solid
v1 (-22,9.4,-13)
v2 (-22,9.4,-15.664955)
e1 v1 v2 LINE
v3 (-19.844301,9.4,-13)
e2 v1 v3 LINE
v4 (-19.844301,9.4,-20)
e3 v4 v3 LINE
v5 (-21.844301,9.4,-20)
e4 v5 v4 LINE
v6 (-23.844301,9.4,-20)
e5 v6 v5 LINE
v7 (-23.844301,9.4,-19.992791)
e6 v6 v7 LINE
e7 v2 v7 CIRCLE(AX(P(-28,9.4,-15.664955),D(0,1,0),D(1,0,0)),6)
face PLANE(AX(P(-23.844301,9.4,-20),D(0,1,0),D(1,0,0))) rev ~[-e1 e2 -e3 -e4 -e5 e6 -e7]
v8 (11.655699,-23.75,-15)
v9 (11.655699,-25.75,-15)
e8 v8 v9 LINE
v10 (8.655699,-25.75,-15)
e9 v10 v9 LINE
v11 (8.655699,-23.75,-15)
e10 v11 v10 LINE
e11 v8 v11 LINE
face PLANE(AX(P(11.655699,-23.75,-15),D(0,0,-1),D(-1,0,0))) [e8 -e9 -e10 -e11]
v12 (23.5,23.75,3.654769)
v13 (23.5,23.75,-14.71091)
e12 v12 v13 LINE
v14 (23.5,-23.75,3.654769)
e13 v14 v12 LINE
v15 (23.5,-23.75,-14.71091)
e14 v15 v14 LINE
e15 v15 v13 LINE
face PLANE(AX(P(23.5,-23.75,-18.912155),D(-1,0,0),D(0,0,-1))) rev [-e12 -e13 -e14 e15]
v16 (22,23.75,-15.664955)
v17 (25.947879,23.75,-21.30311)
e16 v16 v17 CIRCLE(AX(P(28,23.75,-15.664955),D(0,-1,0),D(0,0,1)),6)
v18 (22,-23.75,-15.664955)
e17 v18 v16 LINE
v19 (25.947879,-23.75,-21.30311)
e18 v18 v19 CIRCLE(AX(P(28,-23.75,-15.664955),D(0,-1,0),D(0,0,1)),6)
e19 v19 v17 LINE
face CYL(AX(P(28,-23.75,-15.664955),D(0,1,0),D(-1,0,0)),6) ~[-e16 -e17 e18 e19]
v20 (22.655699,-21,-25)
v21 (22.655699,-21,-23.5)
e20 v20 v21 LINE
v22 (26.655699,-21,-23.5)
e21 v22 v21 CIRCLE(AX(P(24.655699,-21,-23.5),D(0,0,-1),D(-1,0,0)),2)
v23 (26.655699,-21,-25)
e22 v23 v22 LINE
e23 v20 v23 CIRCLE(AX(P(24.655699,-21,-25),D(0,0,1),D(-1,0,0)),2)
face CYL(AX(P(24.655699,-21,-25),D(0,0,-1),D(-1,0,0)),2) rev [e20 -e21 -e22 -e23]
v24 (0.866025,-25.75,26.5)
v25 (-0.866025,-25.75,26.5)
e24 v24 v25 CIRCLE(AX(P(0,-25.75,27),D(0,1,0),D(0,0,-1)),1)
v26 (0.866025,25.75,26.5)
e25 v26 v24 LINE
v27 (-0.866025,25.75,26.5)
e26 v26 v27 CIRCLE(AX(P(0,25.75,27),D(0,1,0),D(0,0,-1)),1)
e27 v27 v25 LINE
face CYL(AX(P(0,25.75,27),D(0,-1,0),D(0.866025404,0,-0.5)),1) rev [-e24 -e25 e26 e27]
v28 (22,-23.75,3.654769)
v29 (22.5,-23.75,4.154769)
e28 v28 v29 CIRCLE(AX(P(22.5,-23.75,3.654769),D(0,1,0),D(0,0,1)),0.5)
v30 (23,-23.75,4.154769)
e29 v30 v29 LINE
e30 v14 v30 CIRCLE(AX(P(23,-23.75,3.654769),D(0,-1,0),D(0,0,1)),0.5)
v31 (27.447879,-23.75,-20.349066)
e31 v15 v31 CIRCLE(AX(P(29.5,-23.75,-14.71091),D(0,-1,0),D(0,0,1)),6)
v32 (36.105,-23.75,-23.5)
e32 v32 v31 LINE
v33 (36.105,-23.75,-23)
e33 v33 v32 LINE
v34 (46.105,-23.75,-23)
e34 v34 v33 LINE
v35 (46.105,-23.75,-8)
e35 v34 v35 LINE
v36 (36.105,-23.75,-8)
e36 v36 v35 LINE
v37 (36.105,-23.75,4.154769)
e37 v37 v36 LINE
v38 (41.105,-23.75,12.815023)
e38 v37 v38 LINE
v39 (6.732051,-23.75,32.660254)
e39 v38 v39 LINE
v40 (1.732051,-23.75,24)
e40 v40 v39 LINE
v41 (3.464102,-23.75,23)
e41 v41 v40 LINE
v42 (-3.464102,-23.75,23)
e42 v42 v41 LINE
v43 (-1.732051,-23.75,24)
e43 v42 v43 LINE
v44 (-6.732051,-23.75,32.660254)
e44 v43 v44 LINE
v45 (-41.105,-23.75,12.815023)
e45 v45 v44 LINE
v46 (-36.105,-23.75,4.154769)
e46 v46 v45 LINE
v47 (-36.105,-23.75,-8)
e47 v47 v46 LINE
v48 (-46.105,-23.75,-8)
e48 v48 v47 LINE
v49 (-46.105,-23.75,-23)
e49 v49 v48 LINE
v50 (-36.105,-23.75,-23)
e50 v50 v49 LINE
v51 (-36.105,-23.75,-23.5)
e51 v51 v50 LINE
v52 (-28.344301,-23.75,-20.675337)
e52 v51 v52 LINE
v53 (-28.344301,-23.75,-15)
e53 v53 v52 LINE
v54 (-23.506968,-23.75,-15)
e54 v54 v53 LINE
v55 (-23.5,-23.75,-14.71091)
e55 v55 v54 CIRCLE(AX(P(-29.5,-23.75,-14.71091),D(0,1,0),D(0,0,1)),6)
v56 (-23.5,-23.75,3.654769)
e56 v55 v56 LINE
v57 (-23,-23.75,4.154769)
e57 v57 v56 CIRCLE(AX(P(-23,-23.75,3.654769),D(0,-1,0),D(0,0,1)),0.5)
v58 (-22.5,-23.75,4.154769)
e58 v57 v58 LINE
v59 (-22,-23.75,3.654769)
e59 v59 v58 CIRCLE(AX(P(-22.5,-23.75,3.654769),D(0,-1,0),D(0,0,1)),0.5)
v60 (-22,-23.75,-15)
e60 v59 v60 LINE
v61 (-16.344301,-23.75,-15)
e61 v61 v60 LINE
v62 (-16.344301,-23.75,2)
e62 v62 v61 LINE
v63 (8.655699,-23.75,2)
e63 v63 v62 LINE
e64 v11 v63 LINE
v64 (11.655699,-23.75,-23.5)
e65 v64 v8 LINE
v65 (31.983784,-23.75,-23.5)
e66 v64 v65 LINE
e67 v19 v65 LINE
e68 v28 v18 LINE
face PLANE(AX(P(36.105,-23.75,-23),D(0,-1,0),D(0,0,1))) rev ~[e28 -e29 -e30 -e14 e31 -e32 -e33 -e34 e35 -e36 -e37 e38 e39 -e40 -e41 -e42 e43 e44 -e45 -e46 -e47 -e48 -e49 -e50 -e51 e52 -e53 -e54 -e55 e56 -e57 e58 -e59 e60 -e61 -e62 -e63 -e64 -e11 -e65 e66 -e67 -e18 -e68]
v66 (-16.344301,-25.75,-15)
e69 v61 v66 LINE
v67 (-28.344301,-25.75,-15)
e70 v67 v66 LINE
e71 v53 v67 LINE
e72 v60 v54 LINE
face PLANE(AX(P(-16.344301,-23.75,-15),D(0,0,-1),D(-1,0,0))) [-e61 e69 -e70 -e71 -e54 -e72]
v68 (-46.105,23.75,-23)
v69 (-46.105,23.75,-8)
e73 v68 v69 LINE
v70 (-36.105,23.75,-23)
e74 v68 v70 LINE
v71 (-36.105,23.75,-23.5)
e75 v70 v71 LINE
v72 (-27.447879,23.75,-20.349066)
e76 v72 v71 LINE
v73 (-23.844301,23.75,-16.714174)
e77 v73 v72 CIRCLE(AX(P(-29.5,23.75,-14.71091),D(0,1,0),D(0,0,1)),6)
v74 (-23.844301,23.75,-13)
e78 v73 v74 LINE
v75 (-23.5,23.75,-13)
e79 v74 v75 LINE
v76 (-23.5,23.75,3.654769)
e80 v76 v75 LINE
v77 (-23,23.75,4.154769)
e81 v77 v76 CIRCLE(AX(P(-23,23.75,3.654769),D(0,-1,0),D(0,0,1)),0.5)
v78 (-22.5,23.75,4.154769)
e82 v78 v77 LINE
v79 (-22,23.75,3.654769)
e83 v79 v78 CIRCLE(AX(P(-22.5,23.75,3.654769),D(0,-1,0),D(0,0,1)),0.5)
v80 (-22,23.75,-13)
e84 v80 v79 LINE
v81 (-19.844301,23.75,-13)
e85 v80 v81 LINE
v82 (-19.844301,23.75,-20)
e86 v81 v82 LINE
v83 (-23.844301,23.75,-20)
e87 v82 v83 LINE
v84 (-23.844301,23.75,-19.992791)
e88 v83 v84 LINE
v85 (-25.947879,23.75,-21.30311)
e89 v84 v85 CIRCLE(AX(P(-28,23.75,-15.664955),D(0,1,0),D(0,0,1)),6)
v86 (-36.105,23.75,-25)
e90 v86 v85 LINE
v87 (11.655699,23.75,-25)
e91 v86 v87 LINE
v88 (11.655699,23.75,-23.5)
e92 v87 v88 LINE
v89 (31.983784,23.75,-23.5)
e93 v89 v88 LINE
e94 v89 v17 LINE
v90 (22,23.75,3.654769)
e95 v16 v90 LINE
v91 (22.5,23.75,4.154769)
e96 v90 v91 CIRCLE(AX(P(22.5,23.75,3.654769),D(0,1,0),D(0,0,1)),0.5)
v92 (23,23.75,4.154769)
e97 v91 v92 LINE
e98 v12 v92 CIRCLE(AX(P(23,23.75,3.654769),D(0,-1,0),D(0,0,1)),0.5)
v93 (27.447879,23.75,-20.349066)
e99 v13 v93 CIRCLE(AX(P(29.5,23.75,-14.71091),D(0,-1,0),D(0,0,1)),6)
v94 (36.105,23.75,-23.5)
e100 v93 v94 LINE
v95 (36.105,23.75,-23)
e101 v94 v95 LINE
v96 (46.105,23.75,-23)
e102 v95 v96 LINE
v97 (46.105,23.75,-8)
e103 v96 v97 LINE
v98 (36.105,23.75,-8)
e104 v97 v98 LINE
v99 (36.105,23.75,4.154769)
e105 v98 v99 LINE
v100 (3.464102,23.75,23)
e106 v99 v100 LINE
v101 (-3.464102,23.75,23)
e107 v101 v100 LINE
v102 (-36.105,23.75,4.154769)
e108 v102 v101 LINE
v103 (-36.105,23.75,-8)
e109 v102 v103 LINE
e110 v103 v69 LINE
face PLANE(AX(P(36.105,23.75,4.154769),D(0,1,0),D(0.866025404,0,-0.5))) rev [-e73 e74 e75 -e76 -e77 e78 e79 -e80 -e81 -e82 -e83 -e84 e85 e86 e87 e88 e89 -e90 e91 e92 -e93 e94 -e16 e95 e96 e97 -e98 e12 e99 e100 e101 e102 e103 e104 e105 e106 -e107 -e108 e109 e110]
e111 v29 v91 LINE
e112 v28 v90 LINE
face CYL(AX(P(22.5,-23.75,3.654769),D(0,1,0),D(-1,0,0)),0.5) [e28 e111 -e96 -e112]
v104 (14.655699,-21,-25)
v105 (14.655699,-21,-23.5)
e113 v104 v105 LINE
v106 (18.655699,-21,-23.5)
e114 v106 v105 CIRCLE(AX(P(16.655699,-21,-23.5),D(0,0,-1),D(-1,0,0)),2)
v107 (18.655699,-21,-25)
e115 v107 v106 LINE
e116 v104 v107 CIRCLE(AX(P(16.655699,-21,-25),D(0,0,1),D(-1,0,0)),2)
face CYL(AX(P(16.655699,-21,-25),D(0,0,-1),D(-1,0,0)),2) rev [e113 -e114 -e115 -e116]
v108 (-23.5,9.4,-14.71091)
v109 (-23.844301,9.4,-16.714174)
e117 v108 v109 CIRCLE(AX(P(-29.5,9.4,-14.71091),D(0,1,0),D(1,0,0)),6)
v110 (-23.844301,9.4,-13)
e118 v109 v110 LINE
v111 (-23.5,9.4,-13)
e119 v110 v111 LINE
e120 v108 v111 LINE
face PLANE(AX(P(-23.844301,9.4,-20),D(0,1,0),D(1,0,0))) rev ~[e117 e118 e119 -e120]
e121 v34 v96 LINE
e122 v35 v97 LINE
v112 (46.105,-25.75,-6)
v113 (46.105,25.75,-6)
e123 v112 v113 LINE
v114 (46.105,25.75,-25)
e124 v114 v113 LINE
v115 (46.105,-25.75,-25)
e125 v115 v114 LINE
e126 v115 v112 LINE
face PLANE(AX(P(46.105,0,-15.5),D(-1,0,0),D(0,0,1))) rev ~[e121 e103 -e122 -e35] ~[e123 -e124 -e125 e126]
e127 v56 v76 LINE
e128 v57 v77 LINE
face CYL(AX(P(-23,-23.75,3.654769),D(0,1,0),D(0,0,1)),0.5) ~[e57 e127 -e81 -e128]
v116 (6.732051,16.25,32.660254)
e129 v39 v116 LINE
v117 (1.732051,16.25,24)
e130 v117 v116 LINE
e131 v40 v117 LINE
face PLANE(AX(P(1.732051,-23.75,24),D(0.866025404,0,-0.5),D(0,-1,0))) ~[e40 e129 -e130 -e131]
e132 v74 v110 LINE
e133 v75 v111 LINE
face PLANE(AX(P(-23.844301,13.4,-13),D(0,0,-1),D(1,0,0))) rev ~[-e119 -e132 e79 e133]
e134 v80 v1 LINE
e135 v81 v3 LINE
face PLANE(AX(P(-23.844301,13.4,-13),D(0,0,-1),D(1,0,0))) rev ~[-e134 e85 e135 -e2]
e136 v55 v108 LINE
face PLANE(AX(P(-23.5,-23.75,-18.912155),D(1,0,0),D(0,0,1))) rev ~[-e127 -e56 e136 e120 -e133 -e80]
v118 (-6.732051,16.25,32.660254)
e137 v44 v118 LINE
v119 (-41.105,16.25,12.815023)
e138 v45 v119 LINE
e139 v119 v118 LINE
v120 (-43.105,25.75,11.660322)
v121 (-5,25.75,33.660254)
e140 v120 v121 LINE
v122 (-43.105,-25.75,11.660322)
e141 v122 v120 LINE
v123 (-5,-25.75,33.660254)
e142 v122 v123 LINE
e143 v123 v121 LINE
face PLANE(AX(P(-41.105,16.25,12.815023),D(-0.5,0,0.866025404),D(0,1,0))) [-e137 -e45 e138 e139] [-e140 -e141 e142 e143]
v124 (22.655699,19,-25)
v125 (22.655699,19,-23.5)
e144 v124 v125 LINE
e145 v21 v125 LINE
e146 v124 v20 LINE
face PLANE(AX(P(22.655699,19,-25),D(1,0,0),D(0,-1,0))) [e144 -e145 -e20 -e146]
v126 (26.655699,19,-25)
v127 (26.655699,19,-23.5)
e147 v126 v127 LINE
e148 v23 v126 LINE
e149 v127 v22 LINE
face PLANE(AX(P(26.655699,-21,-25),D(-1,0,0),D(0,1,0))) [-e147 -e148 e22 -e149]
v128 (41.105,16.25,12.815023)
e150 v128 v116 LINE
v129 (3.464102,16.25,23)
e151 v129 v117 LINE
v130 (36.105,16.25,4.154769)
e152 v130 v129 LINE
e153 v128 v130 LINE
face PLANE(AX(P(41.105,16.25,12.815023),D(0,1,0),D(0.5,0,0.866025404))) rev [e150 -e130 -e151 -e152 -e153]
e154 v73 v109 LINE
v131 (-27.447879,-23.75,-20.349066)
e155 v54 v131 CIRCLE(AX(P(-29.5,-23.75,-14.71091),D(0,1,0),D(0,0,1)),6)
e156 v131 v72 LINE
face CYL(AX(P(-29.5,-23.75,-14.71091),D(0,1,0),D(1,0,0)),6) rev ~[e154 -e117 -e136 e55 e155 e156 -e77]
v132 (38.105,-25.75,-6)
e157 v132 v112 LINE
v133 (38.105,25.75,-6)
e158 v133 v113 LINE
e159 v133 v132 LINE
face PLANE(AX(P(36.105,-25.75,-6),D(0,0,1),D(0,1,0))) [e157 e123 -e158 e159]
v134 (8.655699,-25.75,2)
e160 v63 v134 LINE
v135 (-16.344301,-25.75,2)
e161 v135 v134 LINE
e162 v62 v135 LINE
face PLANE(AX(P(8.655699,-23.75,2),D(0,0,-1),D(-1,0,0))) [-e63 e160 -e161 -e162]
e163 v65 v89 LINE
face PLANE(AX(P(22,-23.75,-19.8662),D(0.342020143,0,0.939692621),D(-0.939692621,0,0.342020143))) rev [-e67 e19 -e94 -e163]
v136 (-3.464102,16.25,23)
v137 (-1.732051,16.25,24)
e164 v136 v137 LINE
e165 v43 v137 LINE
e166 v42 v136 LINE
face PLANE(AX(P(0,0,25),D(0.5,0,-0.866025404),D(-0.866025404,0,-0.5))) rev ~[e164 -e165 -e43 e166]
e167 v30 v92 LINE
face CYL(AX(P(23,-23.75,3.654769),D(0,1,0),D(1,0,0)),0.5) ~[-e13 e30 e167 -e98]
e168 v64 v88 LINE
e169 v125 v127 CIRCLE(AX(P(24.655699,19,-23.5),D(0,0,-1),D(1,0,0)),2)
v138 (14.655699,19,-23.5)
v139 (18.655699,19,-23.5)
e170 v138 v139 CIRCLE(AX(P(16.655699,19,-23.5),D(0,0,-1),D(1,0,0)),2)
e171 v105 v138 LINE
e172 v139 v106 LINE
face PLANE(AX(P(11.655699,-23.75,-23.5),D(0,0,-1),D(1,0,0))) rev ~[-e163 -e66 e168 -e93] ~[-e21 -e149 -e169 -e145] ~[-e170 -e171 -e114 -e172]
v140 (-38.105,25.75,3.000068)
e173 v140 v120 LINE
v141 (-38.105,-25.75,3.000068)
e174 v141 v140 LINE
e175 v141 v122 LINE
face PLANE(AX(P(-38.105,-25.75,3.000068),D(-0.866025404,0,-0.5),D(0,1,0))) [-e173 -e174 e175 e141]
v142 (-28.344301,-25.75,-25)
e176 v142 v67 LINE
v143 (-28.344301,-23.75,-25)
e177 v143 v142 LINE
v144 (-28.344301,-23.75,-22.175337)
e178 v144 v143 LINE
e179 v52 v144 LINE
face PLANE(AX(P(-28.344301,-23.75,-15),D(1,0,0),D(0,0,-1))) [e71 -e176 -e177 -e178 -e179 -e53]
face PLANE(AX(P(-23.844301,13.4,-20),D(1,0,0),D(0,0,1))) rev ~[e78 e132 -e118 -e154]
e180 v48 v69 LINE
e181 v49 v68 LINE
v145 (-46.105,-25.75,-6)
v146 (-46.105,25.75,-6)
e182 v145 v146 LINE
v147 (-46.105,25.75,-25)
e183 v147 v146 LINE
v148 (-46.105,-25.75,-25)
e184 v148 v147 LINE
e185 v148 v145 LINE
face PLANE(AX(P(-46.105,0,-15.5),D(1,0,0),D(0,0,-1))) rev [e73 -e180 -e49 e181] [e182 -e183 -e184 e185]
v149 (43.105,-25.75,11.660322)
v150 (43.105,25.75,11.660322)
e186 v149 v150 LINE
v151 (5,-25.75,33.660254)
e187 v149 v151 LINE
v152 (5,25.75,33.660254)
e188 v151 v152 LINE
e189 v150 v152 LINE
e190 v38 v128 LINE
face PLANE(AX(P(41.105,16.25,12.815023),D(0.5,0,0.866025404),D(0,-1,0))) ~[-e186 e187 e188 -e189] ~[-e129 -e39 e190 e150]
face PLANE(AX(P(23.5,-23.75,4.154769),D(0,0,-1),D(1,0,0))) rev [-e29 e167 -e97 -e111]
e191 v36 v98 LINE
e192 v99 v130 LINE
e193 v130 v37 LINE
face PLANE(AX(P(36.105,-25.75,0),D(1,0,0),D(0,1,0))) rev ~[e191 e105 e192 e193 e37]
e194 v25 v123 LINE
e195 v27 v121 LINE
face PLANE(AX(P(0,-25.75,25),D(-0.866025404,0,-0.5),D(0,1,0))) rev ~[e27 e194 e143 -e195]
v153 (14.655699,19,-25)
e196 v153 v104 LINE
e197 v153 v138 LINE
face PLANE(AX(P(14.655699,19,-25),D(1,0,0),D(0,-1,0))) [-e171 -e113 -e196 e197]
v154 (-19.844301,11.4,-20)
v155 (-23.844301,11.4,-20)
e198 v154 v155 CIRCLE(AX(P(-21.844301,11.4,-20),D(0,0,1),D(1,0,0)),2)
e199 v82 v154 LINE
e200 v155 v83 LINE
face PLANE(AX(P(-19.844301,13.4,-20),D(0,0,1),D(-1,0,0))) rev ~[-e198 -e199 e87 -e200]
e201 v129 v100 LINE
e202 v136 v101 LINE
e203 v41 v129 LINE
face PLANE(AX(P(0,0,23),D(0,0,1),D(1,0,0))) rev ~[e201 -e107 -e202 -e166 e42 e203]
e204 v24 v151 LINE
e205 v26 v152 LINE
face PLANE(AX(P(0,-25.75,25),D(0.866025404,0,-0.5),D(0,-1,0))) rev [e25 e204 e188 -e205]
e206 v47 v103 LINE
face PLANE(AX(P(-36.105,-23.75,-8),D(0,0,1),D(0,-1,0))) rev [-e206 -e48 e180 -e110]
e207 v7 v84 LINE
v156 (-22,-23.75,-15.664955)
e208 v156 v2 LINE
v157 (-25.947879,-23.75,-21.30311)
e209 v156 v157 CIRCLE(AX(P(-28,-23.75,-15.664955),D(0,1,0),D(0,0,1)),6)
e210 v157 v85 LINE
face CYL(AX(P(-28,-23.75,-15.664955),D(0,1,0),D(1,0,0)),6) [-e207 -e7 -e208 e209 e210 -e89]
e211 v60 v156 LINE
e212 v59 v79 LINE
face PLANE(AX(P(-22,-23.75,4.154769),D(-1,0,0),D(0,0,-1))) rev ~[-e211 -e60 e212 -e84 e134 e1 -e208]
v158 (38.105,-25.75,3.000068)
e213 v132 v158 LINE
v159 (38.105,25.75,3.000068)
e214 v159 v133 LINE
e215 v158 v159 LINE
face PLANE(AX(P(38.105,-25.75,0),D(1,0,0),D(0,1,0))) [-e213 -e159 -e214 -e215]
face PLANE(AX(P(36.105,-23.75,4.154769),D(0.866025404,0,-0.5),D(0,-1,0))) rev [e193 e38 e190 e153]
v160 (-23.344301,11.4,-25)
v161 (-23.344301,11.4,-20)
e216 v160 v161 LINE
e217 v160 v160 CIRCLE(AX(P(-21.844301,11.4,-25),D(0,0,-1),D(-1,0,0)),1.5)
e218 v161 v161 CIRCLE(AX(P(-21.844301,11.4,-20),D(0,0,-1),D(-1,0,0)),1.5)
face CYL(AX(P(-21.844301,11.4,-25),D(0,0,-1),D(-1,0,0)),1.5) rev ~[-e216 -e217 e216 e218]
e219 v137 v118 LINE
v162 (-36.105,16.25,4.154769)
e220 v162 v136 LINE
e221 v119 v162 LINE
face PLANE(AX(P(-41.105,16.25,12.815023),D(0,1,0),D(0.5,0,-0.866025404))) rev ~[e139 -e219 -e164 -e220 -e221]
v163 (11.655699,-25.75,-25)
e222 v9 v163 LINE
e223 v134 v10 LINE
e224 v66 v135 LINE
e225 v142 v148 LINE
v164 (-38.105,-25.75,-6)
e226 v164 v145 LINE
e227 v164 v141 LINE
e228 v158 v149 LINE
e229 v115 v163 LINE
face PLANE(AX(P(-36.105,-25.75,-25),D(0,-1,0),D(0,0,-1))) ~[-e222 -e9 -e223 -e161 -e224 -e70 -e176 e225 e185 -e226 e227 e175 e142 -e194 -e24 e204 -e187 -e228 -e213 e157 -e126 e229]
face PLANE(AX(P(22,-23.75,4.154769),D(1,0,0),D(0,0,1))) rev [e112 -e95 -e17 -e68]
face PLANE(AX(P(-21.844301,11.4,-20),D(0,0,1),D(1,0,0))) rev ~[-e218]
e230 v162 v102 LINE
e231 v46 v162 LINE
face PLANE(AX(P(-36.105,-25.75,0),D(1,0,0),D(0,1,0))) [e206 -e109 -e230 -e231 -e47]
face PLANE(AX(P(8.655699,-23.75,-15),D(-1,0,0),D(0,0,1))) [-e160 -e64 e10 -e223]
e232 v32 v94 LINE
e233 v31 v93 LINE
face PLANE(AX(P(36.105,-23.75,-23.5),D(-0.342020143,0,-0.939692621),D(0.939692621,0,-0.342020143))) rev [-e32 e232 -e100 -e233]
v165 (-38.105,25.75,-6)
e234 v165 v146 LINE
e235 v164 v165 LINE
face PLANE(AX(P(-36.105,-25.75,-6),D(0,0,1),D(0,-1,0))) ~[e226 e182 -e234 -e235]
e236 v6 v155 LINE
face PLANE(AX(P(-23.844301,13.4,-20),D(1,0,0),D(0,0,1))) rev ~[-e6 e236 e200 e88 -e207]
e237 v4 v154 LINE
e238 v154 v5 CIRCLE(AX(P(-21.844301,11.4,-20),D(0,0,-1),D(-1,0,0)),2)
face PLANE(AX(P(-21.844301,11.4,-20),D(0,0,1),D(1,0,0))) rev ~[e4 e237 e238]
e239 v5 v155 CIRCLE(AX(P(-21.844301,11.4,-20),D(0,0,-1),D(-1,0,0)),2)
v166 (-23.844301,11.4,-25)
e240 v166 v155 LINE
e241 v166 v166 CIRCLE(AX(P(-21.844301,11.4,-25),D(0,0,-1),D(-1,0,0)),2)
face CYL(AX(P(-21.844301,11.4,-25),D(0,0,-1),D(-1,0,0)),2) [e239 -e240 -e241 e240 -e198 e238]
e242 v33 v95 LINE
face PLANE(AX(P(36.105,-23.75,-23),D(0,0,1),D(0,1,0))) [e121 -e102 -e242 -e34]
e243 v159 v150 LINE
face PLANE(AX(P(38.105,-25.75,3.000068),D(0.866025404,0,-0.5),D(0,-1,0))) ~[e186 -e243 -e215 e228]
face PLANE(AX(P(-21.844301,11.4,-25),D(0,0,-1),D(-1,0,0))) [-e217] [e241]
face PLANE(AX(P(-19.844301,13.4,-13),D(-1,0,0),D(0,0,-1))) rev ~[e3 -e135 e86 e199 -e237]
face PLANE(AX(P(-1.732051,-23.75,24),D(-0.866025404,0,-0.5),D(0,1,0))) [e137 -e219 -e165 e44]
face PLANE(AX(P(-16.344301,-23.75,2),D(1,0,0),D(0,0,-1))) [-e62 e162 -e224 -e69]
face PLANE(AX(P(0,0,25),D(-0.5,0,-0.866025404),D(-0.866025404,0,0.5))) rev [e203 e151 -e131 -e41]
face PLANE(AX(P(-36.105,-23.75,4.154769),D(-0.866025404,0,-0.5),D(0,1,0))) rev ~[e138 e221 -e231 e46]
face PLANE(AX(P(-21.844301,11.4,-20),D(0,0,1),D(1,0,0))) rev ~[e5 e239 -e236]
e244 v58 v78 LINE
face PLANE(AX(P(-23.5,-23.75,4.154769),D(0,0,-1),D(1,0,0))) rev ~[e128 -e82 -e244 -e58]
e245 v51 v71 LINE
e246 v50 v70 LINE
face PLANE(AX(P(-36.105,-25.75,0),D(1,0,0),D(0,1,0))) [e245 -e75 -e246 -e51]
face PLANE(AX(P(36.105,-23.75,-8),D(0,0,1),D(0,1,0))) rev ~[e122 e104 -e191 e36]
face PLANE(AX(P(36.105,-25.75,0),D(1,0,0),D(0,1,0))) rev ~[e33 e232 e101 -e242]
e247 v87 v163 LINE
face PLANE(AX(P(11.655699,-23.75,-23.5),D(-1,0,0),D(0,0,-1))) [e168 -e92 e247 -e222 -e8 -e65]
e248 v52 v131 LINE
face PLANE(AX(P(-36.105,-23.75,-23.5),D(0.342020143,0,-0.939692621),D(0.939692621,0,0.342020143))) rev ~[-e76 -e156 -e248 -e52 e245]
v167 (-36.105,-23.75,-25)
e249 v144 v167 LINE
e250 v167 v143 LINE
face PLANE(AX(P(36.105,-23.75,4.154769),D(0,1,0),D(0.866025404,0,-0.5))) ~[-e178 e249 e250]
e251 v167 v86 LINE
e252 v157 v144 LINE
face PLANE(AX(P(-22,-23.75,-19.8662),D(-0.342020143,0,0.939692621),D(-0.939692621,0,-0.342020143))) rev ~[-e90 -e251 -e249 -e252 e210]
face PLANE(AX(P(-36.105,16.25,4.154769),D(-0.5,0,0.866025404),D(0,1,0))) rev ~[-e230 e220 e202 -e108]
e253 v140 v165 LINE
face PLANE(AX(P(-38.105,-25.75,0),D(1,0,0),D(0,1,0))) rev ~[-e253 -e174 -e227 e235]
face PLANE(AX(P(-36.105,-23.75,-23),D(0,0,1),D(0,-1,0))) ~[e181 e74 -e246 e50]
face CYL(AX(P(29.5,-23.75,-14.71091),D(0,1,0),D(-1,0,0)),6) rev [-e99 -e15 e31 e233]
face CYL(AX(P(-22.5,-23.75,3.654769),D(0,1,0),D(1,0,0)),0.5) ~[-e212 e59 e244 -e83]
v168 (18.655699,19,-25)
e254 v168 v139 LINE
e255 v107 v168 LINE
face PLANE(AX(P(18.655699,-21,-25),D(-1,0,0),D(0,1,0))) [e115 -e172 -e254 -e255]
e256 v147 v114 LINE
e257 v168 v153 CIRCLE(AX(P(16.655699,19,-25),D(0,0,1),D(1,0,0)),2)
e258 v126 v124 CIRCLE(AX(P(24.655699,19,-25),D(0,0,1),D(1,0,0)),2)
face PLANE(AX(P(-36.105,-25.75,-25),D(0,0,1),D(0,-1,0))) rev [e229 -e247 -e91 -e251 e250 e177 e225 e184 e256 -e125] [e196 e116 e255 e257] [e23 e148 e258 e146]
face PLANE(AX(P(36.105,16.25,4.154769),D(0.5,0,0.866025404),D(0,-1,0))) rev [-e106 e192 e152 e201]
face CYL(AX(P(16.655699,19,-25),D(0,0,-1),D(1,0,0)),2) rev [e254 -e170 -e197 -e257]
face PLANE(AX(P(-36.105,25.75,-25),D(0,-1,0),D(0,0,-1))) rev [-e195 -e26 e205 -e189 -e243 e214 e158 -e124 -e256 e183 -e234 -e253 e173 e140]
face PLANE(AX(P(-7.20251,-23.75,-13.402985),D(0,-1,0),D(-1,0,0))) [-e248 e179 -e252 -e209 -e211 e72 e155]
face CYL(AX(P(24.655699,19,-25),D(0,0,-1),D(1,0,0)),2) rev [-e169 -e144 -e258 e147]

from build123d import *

# Parameters (mm, degrees)
SKETCH1_W                 = 76.21
SKETCH1_H                 = 51.5
BOSS_EXTRUDE1_DEPTH       = 25
SHELL1_T                  = -2
CUT_EXTRUDE1_DEPTH        = 53.345520582
SKETCH4_W                 = 43.999864015
SKETCH4_H                 = 51.5
SKETCH4_W_2               = 39.690462938
SKETCH4_H_2               = 47.5
BOSS_EXTRUDE2_DEPTH       = 10
BOSS_EXTRUDE3_REACH       = 75.765
FILLET1_R                 = 0.5
FILLET3_R                 = 6
FILLET1_OF_MIRROR3_R      = 0.5
FILLET3_OF_MIRROR3_R      = 6
CUT_EXTRUDE2_DEPTH        = 74.765193194
BOSS_EXTRUDE4_REACH       = 75.765
SKETCH7_W                 = 24.449300912
SKETCH7_H                 = 1.5
CUT_EXTRUDE3_REACH        = 79.215
LPATTERN1_COUNT           = 2
LPATTERN1_PITCH           = 8
SKETCH9_R                 = 2
SKETCH9_R_2               = 1.5
BOSS_EXTRUDE5_DEPTH       = 5
SKETCH10_W                = 4
SKETCH10_H                = 4
BOSS_EXTRUDE6_DEPTH       = 7
BOSS_EXTRUDE7_DEPTH       = 10.35
SKETCH12_R                = 2
BOSS_EXTRUDE8_DEPTH       = 10
F_1_5MM_DOWEL_HOLE1_D     = 1.5
F_1_5MM_DOWEL_HOLE1_DEPTH = 5
F_1_5MM_DOWEL_HOLE1_TIP   = 0.450645464
FILLET5_R                 = 1
SKETCH15_W                = 19
SKETCH15_H                = 51.5
SKETCH15_W_2              = 15
SKETCH15_H_2              = 47.5
BOSS_EXTRUDE9_DEPTH       = 10
CUT_EXTRUDE4_REACH        = 91.835
SKETCH16_W                = 15
SKETCH16_H                = 47.5
BOSS_EXTRUDE10_REACH      = 91.93
SKETCH19_W                = 10
SKETCH19_H                = 7.5


with BuildPart() as part:
    # Sketch1 → Boss-Extrude1 (new, symmetric)
    with BuildSketch(Plane.XY):
        Rectangle(SKETCH1_W, SKETCH1_H)
    extrude(amount=BOSS_EXTRUDE1_DEPTH, both=True)

    # Shell1
    shell1_openings = [part.faces().sort_by_distance(p)[0] for p in [
        (0, 0, -25),
    ]]
    offset(amount=SHELL1_T, openings=shell1_openings, kind=Kind.INTERSECTION)

    # Sketch3 → Cut-Extrude1 (cut, symmetric)
    with BuildSketch(Plane(origin=(0, 0, 0), x_dir=(1, 0, 0), z_dir=(0, 1, 0))):
        Polygon((0, -25), (-38.105, -3.000067993), (-38.105, -25), align=None)
    cut_extrude1 = extrude(amount=CUT_EXTRUDE1_DEPTH, both=True, mode=Mode.SUBTRACT)

    # Mirror1: Cut-Extrude1 across plane
    add(cut_extrude1.mirror(Plane(origin=(0, 0, 0), x_dir=(0, 0, 1), z_dir=(1, 0, 0))), mode=Mode.SUBTRACT)

    # Sketch4 → Boss-Extrude2 (add)
    with BuildSketch(Plane(origin=(-10.825317547, 0, 18.75), x_dir=(0.8660254037844363, 0, 0.5000000000000042), z_dir=(-0.5000000000000041, 0, 0.8660254037844362))):
        with Locations((-9.499932008, 0)):
            Rectangle(SKETCH4_W, SKETCH4_H)
        with Locations((-9.345231469, 0)):
            Rectangle(SKETCH4_W_2, SKETCH4_H_2, mode=Mode.SUBTRACT)
    boss_extrude2 = extrude(amount=BOSS_EXTRUDE2_DEPTH)

    # Mirror2: Boss-Extrude2 across plane
    add(boss_extrude2.mirror(Plane(origin=(0, 0, 0), x_dir=(0, 0, 1), z_dir=(1, 0, 0))))

    # Sketch5 → Boss-Extrude3 (add, up to next)
    with BuildSketch(Plane(origin=(0, -23.75, 0), x_dir=(1, 0, 0), z_dir=(0, 1, 0)), mode=Mode.PRIVATE) as boss_extrude3_sk1:
        Polygon((-22, 19.866199846), (-36.105, 25), (-36.105, 23.5), (-23.5, 18.912155197), (-23.5, -4.154768531), (-22, -4.154768531), align=None)
    boss_extrude3_tool1 = extrude(boss_extrude3_sk1.sketch, amount=BOSS_EXTRUDE3_REACH, mode=Mode.PRIVATE) - part.part
    boss_extrude3 = boss_extrude3_tool1.solids().sort_by_distance((-29.163272, -23.75, -22.128757))[0]
    add(boss_extrude3)

    # Fillet1
    fillet1_edges = [part.edges().sort_by_distance(p)[0] for p in [
        (-22, 0, 4.154768531),
        (-23.5, 0, 4.154768531),
    ]]
    fillet(fillet1_edges, radius=FILLET1_R)

    # Fillet3
    fillet3_edges = [part.edges().sort_by_distance(p)[0] for p in [
        (-22, 0, -19.866199846),
        (-23.5, 0, -18.912155197),
    ]]
    fillet(fillet3_edges, radius=FILLET3_R)

    # Mirror3: Boss-Extrude3 across plane
    add(boss_extrude3.mirror(Plane(origin=(0, 0, 0), x_dir=(0, 0, 1), z_dir=(1, 0, 0))))

    # Fillet1 of Mirror3
    fillet1_of_mirror3_edges = [part.edges().sort_by_distance(p)[0] for p in [
        (22, 0, 4.154768531),
        (23.5, 0, 4.154768531),
    ]]
    fillet(fillet1_of_mirror3_edges, radius=FILLET1_OF_MIRROR3_R)

    # Fillet3 of Mirror3
    fillet3_of_mirror3_edges = [part.edges().sort_by_distance(p)[0] for p in [
        (22, 0, -19.866199846),
        (23.5, 0, -18.912155197),
    ]]
    fillet(fillet3_of_mirror3_edges, radius=FILLET3_OF_MIRROR3_R)

    # Sketch6 → Cut-Extrude2 (cut, through all)
    with BuildSketch(Plane(origin=(0, -23.75, 0), x_dir=(1, 0, 0), z_dir=(0, 1, 0))):
        Polygon((-28.344300912, 25), (11.655699088, 25), (11.655699088, 15), (8.655699088, 15), (8.655699088, -2), (-16.344300912, -2), (-16.344300912, 15), (-28.344300912, 15), align=None)
    extrude(amount=-CUT_EXTRUDE2_DEPTH, mode=Mode.SUBTRACT)

    # Sketch7 → Boss-Extrude4 (add, up to next)
    with BuildSketch(Plane(origin=(0, -23.75, 0), x_dir=(1, 0, 0), z_dir=(0, 1, 0)), mode=Mode.PRIVATE) as boss_extrude4_sk1:
        with Locations((23.880349544, 24.25)):
            Rectangle(SKETCH7_W, SKETCH7_H)
    boss_extrude4_tool1 = extrude(boss_extrude4_sk1.sketch, amount=BOSS_EXTRUDE4_REACH, mode=Mode.PRIVATE) - part.part
    add(boss_extrude4_tool1.solids().sort_by_distance((23.88035, -23.75, -24.25))[0])

    # Sketch8 → Cut-Extrude3 (cut, up to next)
    with BuildSketch(Plane(origin=(0, 0, -25), x_dir=(-1, 0, 0), z_dir=(0, 0, -1)), mode=Mode.PRIVATE) as cut_extrude3_sk1:
        with BuildLine():
            Line((-14.655699088, 19), (-14.655699088, -21))
            ThreePointArc((-14.655699088, -21), (-16.655699088, -23), (-18.655699088, -21))
            Line((-18.655699088, -21), (-18.655699088, 19))
            ThreePointArc((-18.655699088, 19), (-16.655699088, 21), (-14.655699088, 19))
        make_face()
    cut_extrude3_tool1 = extrude(cut_extrude3_sk1.sketch, amount=-CUT_EXTRUDE3_REACH, mode=Mode.PRIVATE) & part.part
    cut_extrude3 = cut_extrude3_tool1.solids().sort_by_distance((16.655699, -1, -25))[0]
    add(cut_extrude3, mode=Mode.SUBTRACT)

    # LPattern1: Cut-Extrude3 ×2
    with Locations(*[(i * LPATTERN1_PITCH, 0, 0) for i in range(1, LPATTERN1_COUNT)]):
        add(cut_extrude3, mode=Mode.SUBTRACT)



with BuildPart() as body_2:
    # Sketch9 → Boss-Extrude5 (new body)
    with BuildSketch(Plane(origin=(0, 0, -25), x_dir=(-1, 0, 0), z_dir=(0, 0, -1))):
        with Locations((21.844300912, 11.4)):
            Circle(SKETCH9_R)
        with Locations((21.844300912, 11.4)):
            Circle(SKETCH9_R_2, mode=Mode.SUBTRACT)
    extrude(amount=-BOSS_EXTRUDE5_DEPTH)

    # Sketch10 → Boss-Extrude6 (add)
    with BuildSketch(Plane.XY.offset(-20)):
        with Locations((-21.844300912, 11.4)):
            Rectangle(SKETCH10_W, SKETCH10_H)
    extrude(amount=BOSS_EXTRUDE6_DEPTH)


with BuildPart() as part_1:
    add(part.part)

    add(body_2.part)  # Boss-Extrude7 merges body 2
    # Sketch11 → Boss-Extrude7 (add)
    with BuildSketch(Plane(origin=(0, 13.4, 0), x_dir=(1, 0, 0), z_dir=(0, 1, 0))):
        Polygon((-19.844300912, 20), (-21.844300912, 20), (-23.844300912, 20), (-23.844300912, 13), (-19.844300912, 13), align=None)
    extrude(amount=BOSS_EXTRUDE7_DEPTH)

    # Sketch12 → Boss-Extrude8 (add)
    with BuildSketch(Plane(origin=(0, 0, -25), x_dir=(-1, 0, 0), z_dir=(0, 0, -1))):
        with Locations((39.344300912, -7.5)):
            Circle(SKETCH12_R)
    extrude(amount=-BOSS_EXTRUDE8_DEPTH)

    # Ø1.5mm Dowel Hole1
    with Locations(Plane(origin=(0, 0, -25), x_dir=(-1, 0, 0), z_dir=(0, 0, -1))):
        with Locations((39.344300912, -7.5)):
            Hole(F_1_5MM_DOWEL_HOLE1_D / 2, depth=F_1_5MM_DOWEL_HOLE1_DEPTH)
            with Locations((0, 0, -(F_1_5MM_DOWEL_HOLE1_DEPTH + F_1_5MM_DOWEL_HOLE1_TIP / 2))):  # 118° drill point
                Cone(0, F_1_5MM_DOWEL_HOLE1_D / 2, F_1_5MM_DOWEL_HOLE1_TIP, mode=Mode.SUBTRACT)

    # Fillet5
    fillet5_edges = [part_1.edges().sort_by_distance(p)[0] for p in [
        (0, 0, 25),
    ]]
    fillet(fillet5_edges, radius=FILLET5_R)

    # Sketch15 → Boss-Extrude9 (add)
    with BuildSketch(Plane.ZY.offset(-36.105)):
        with Locations((-15.5, 0)):
            Rectangle(SKETCH15_W, SKETCH15_H)
        with Locations((-15.5, 0)):
            Rectangle(SKETCH15_W_2, SKETCH15_H_2, mode=Mode.SUBTRACT)
    boss_extrude9 = extrude(amount=-BOSS_EXTRUDE9_DEPTH)

    # Sketch16 → Cut-Extrude4 (cut, up to next)
    with BuildSketch(Plane.ZY.offset(-36.105), mode=Mode.PRIVATE) as cut_extrude4_sk1:
        with Locations((-15.5, 0)):
            Rectangle(SKETCH16_W, SKETCH16_H)
    cut_extrude4_tool1 = extrude(cut_extrude4_sk1.sketch, amount=-CUT_EXTRUDE4_REACH, mode=Mode.PRIVATE) & part_1.part
    cut_extrude4 = cut_extrude4_tool1.solids().sort_by_distance((36.105, 0, -15.5))[0]
    add(cut_extrude4, mode=Mode.SUBTRACT)

    # Mirror4: Boss-Extrude9, Cut-Extrude4 mirrored; each copy of Cut-Extrude4 runs up to whatever stops it at its own place
    mirror4_before = part_1.part  # the part as the pattern finds it: every copy runs up to it
    add(boss_extrude9.mirror(Plane(origin=(0, 0, 0), x_dir=(0, 0, 1), z_dir=(1, 0, 0))))
    mirror4_cut_extrude4_long = extrude(cut_extrude4_sk1.sketch, amount=-CUT_EXTRUDE4_REACH, mode=Mode.PRIVATE)
    mirror4_cut_extrude4_tool = mirror4_cut_extrude4_long.mirror(Plane(origin=(0, 0, 0), x_dir=(0, 0, 1), z_dir=(1, 0, 0))) & mirror4_before
    add(mirror4_cut_extrude4_tool.solids().sort_by_distance((-36.105, 0, -15.5))[0], mode=Mode.SUBTRACT)

    # Sketch19 → Boss-Extrude10 (add, up to next)
    with BuildSketch(Plane(origin=(-25.279682453, 0, -14.595231469), x_dir=(0.5000000000000041, 0, -0.8660254037844364), z_dir=(0.8660254037844364, 0, 0.5000000000000041)), mode=Mode.PRIVATE) as boss_extrude10_sk1:
        with Locations((-26.650635095, 20)):
            Rectangle(SKETCH19_W, SKETCH19_H)
    boss_extrude10_tool1 = extrude(boss_extrude10_sk1.sketch, amount=BOSS_EXTRUDE10_REACH, mode=Mode.PRIVATE) - part_1.part
    boss_extrude10 = boss_extrude10_tool1.solids().sort_by_distance((-38.605, 20, 8.484896))[0]
    add(boss_extrude10)

    # Mirror5: Boss-Extrude10 across plane
    add(boss_extrude10.mirror(Plane(origin=(0, 0, 0), x_dir=(0, 0, 1), z_dir=(1, 0, 0))))


solid = part_1.part
